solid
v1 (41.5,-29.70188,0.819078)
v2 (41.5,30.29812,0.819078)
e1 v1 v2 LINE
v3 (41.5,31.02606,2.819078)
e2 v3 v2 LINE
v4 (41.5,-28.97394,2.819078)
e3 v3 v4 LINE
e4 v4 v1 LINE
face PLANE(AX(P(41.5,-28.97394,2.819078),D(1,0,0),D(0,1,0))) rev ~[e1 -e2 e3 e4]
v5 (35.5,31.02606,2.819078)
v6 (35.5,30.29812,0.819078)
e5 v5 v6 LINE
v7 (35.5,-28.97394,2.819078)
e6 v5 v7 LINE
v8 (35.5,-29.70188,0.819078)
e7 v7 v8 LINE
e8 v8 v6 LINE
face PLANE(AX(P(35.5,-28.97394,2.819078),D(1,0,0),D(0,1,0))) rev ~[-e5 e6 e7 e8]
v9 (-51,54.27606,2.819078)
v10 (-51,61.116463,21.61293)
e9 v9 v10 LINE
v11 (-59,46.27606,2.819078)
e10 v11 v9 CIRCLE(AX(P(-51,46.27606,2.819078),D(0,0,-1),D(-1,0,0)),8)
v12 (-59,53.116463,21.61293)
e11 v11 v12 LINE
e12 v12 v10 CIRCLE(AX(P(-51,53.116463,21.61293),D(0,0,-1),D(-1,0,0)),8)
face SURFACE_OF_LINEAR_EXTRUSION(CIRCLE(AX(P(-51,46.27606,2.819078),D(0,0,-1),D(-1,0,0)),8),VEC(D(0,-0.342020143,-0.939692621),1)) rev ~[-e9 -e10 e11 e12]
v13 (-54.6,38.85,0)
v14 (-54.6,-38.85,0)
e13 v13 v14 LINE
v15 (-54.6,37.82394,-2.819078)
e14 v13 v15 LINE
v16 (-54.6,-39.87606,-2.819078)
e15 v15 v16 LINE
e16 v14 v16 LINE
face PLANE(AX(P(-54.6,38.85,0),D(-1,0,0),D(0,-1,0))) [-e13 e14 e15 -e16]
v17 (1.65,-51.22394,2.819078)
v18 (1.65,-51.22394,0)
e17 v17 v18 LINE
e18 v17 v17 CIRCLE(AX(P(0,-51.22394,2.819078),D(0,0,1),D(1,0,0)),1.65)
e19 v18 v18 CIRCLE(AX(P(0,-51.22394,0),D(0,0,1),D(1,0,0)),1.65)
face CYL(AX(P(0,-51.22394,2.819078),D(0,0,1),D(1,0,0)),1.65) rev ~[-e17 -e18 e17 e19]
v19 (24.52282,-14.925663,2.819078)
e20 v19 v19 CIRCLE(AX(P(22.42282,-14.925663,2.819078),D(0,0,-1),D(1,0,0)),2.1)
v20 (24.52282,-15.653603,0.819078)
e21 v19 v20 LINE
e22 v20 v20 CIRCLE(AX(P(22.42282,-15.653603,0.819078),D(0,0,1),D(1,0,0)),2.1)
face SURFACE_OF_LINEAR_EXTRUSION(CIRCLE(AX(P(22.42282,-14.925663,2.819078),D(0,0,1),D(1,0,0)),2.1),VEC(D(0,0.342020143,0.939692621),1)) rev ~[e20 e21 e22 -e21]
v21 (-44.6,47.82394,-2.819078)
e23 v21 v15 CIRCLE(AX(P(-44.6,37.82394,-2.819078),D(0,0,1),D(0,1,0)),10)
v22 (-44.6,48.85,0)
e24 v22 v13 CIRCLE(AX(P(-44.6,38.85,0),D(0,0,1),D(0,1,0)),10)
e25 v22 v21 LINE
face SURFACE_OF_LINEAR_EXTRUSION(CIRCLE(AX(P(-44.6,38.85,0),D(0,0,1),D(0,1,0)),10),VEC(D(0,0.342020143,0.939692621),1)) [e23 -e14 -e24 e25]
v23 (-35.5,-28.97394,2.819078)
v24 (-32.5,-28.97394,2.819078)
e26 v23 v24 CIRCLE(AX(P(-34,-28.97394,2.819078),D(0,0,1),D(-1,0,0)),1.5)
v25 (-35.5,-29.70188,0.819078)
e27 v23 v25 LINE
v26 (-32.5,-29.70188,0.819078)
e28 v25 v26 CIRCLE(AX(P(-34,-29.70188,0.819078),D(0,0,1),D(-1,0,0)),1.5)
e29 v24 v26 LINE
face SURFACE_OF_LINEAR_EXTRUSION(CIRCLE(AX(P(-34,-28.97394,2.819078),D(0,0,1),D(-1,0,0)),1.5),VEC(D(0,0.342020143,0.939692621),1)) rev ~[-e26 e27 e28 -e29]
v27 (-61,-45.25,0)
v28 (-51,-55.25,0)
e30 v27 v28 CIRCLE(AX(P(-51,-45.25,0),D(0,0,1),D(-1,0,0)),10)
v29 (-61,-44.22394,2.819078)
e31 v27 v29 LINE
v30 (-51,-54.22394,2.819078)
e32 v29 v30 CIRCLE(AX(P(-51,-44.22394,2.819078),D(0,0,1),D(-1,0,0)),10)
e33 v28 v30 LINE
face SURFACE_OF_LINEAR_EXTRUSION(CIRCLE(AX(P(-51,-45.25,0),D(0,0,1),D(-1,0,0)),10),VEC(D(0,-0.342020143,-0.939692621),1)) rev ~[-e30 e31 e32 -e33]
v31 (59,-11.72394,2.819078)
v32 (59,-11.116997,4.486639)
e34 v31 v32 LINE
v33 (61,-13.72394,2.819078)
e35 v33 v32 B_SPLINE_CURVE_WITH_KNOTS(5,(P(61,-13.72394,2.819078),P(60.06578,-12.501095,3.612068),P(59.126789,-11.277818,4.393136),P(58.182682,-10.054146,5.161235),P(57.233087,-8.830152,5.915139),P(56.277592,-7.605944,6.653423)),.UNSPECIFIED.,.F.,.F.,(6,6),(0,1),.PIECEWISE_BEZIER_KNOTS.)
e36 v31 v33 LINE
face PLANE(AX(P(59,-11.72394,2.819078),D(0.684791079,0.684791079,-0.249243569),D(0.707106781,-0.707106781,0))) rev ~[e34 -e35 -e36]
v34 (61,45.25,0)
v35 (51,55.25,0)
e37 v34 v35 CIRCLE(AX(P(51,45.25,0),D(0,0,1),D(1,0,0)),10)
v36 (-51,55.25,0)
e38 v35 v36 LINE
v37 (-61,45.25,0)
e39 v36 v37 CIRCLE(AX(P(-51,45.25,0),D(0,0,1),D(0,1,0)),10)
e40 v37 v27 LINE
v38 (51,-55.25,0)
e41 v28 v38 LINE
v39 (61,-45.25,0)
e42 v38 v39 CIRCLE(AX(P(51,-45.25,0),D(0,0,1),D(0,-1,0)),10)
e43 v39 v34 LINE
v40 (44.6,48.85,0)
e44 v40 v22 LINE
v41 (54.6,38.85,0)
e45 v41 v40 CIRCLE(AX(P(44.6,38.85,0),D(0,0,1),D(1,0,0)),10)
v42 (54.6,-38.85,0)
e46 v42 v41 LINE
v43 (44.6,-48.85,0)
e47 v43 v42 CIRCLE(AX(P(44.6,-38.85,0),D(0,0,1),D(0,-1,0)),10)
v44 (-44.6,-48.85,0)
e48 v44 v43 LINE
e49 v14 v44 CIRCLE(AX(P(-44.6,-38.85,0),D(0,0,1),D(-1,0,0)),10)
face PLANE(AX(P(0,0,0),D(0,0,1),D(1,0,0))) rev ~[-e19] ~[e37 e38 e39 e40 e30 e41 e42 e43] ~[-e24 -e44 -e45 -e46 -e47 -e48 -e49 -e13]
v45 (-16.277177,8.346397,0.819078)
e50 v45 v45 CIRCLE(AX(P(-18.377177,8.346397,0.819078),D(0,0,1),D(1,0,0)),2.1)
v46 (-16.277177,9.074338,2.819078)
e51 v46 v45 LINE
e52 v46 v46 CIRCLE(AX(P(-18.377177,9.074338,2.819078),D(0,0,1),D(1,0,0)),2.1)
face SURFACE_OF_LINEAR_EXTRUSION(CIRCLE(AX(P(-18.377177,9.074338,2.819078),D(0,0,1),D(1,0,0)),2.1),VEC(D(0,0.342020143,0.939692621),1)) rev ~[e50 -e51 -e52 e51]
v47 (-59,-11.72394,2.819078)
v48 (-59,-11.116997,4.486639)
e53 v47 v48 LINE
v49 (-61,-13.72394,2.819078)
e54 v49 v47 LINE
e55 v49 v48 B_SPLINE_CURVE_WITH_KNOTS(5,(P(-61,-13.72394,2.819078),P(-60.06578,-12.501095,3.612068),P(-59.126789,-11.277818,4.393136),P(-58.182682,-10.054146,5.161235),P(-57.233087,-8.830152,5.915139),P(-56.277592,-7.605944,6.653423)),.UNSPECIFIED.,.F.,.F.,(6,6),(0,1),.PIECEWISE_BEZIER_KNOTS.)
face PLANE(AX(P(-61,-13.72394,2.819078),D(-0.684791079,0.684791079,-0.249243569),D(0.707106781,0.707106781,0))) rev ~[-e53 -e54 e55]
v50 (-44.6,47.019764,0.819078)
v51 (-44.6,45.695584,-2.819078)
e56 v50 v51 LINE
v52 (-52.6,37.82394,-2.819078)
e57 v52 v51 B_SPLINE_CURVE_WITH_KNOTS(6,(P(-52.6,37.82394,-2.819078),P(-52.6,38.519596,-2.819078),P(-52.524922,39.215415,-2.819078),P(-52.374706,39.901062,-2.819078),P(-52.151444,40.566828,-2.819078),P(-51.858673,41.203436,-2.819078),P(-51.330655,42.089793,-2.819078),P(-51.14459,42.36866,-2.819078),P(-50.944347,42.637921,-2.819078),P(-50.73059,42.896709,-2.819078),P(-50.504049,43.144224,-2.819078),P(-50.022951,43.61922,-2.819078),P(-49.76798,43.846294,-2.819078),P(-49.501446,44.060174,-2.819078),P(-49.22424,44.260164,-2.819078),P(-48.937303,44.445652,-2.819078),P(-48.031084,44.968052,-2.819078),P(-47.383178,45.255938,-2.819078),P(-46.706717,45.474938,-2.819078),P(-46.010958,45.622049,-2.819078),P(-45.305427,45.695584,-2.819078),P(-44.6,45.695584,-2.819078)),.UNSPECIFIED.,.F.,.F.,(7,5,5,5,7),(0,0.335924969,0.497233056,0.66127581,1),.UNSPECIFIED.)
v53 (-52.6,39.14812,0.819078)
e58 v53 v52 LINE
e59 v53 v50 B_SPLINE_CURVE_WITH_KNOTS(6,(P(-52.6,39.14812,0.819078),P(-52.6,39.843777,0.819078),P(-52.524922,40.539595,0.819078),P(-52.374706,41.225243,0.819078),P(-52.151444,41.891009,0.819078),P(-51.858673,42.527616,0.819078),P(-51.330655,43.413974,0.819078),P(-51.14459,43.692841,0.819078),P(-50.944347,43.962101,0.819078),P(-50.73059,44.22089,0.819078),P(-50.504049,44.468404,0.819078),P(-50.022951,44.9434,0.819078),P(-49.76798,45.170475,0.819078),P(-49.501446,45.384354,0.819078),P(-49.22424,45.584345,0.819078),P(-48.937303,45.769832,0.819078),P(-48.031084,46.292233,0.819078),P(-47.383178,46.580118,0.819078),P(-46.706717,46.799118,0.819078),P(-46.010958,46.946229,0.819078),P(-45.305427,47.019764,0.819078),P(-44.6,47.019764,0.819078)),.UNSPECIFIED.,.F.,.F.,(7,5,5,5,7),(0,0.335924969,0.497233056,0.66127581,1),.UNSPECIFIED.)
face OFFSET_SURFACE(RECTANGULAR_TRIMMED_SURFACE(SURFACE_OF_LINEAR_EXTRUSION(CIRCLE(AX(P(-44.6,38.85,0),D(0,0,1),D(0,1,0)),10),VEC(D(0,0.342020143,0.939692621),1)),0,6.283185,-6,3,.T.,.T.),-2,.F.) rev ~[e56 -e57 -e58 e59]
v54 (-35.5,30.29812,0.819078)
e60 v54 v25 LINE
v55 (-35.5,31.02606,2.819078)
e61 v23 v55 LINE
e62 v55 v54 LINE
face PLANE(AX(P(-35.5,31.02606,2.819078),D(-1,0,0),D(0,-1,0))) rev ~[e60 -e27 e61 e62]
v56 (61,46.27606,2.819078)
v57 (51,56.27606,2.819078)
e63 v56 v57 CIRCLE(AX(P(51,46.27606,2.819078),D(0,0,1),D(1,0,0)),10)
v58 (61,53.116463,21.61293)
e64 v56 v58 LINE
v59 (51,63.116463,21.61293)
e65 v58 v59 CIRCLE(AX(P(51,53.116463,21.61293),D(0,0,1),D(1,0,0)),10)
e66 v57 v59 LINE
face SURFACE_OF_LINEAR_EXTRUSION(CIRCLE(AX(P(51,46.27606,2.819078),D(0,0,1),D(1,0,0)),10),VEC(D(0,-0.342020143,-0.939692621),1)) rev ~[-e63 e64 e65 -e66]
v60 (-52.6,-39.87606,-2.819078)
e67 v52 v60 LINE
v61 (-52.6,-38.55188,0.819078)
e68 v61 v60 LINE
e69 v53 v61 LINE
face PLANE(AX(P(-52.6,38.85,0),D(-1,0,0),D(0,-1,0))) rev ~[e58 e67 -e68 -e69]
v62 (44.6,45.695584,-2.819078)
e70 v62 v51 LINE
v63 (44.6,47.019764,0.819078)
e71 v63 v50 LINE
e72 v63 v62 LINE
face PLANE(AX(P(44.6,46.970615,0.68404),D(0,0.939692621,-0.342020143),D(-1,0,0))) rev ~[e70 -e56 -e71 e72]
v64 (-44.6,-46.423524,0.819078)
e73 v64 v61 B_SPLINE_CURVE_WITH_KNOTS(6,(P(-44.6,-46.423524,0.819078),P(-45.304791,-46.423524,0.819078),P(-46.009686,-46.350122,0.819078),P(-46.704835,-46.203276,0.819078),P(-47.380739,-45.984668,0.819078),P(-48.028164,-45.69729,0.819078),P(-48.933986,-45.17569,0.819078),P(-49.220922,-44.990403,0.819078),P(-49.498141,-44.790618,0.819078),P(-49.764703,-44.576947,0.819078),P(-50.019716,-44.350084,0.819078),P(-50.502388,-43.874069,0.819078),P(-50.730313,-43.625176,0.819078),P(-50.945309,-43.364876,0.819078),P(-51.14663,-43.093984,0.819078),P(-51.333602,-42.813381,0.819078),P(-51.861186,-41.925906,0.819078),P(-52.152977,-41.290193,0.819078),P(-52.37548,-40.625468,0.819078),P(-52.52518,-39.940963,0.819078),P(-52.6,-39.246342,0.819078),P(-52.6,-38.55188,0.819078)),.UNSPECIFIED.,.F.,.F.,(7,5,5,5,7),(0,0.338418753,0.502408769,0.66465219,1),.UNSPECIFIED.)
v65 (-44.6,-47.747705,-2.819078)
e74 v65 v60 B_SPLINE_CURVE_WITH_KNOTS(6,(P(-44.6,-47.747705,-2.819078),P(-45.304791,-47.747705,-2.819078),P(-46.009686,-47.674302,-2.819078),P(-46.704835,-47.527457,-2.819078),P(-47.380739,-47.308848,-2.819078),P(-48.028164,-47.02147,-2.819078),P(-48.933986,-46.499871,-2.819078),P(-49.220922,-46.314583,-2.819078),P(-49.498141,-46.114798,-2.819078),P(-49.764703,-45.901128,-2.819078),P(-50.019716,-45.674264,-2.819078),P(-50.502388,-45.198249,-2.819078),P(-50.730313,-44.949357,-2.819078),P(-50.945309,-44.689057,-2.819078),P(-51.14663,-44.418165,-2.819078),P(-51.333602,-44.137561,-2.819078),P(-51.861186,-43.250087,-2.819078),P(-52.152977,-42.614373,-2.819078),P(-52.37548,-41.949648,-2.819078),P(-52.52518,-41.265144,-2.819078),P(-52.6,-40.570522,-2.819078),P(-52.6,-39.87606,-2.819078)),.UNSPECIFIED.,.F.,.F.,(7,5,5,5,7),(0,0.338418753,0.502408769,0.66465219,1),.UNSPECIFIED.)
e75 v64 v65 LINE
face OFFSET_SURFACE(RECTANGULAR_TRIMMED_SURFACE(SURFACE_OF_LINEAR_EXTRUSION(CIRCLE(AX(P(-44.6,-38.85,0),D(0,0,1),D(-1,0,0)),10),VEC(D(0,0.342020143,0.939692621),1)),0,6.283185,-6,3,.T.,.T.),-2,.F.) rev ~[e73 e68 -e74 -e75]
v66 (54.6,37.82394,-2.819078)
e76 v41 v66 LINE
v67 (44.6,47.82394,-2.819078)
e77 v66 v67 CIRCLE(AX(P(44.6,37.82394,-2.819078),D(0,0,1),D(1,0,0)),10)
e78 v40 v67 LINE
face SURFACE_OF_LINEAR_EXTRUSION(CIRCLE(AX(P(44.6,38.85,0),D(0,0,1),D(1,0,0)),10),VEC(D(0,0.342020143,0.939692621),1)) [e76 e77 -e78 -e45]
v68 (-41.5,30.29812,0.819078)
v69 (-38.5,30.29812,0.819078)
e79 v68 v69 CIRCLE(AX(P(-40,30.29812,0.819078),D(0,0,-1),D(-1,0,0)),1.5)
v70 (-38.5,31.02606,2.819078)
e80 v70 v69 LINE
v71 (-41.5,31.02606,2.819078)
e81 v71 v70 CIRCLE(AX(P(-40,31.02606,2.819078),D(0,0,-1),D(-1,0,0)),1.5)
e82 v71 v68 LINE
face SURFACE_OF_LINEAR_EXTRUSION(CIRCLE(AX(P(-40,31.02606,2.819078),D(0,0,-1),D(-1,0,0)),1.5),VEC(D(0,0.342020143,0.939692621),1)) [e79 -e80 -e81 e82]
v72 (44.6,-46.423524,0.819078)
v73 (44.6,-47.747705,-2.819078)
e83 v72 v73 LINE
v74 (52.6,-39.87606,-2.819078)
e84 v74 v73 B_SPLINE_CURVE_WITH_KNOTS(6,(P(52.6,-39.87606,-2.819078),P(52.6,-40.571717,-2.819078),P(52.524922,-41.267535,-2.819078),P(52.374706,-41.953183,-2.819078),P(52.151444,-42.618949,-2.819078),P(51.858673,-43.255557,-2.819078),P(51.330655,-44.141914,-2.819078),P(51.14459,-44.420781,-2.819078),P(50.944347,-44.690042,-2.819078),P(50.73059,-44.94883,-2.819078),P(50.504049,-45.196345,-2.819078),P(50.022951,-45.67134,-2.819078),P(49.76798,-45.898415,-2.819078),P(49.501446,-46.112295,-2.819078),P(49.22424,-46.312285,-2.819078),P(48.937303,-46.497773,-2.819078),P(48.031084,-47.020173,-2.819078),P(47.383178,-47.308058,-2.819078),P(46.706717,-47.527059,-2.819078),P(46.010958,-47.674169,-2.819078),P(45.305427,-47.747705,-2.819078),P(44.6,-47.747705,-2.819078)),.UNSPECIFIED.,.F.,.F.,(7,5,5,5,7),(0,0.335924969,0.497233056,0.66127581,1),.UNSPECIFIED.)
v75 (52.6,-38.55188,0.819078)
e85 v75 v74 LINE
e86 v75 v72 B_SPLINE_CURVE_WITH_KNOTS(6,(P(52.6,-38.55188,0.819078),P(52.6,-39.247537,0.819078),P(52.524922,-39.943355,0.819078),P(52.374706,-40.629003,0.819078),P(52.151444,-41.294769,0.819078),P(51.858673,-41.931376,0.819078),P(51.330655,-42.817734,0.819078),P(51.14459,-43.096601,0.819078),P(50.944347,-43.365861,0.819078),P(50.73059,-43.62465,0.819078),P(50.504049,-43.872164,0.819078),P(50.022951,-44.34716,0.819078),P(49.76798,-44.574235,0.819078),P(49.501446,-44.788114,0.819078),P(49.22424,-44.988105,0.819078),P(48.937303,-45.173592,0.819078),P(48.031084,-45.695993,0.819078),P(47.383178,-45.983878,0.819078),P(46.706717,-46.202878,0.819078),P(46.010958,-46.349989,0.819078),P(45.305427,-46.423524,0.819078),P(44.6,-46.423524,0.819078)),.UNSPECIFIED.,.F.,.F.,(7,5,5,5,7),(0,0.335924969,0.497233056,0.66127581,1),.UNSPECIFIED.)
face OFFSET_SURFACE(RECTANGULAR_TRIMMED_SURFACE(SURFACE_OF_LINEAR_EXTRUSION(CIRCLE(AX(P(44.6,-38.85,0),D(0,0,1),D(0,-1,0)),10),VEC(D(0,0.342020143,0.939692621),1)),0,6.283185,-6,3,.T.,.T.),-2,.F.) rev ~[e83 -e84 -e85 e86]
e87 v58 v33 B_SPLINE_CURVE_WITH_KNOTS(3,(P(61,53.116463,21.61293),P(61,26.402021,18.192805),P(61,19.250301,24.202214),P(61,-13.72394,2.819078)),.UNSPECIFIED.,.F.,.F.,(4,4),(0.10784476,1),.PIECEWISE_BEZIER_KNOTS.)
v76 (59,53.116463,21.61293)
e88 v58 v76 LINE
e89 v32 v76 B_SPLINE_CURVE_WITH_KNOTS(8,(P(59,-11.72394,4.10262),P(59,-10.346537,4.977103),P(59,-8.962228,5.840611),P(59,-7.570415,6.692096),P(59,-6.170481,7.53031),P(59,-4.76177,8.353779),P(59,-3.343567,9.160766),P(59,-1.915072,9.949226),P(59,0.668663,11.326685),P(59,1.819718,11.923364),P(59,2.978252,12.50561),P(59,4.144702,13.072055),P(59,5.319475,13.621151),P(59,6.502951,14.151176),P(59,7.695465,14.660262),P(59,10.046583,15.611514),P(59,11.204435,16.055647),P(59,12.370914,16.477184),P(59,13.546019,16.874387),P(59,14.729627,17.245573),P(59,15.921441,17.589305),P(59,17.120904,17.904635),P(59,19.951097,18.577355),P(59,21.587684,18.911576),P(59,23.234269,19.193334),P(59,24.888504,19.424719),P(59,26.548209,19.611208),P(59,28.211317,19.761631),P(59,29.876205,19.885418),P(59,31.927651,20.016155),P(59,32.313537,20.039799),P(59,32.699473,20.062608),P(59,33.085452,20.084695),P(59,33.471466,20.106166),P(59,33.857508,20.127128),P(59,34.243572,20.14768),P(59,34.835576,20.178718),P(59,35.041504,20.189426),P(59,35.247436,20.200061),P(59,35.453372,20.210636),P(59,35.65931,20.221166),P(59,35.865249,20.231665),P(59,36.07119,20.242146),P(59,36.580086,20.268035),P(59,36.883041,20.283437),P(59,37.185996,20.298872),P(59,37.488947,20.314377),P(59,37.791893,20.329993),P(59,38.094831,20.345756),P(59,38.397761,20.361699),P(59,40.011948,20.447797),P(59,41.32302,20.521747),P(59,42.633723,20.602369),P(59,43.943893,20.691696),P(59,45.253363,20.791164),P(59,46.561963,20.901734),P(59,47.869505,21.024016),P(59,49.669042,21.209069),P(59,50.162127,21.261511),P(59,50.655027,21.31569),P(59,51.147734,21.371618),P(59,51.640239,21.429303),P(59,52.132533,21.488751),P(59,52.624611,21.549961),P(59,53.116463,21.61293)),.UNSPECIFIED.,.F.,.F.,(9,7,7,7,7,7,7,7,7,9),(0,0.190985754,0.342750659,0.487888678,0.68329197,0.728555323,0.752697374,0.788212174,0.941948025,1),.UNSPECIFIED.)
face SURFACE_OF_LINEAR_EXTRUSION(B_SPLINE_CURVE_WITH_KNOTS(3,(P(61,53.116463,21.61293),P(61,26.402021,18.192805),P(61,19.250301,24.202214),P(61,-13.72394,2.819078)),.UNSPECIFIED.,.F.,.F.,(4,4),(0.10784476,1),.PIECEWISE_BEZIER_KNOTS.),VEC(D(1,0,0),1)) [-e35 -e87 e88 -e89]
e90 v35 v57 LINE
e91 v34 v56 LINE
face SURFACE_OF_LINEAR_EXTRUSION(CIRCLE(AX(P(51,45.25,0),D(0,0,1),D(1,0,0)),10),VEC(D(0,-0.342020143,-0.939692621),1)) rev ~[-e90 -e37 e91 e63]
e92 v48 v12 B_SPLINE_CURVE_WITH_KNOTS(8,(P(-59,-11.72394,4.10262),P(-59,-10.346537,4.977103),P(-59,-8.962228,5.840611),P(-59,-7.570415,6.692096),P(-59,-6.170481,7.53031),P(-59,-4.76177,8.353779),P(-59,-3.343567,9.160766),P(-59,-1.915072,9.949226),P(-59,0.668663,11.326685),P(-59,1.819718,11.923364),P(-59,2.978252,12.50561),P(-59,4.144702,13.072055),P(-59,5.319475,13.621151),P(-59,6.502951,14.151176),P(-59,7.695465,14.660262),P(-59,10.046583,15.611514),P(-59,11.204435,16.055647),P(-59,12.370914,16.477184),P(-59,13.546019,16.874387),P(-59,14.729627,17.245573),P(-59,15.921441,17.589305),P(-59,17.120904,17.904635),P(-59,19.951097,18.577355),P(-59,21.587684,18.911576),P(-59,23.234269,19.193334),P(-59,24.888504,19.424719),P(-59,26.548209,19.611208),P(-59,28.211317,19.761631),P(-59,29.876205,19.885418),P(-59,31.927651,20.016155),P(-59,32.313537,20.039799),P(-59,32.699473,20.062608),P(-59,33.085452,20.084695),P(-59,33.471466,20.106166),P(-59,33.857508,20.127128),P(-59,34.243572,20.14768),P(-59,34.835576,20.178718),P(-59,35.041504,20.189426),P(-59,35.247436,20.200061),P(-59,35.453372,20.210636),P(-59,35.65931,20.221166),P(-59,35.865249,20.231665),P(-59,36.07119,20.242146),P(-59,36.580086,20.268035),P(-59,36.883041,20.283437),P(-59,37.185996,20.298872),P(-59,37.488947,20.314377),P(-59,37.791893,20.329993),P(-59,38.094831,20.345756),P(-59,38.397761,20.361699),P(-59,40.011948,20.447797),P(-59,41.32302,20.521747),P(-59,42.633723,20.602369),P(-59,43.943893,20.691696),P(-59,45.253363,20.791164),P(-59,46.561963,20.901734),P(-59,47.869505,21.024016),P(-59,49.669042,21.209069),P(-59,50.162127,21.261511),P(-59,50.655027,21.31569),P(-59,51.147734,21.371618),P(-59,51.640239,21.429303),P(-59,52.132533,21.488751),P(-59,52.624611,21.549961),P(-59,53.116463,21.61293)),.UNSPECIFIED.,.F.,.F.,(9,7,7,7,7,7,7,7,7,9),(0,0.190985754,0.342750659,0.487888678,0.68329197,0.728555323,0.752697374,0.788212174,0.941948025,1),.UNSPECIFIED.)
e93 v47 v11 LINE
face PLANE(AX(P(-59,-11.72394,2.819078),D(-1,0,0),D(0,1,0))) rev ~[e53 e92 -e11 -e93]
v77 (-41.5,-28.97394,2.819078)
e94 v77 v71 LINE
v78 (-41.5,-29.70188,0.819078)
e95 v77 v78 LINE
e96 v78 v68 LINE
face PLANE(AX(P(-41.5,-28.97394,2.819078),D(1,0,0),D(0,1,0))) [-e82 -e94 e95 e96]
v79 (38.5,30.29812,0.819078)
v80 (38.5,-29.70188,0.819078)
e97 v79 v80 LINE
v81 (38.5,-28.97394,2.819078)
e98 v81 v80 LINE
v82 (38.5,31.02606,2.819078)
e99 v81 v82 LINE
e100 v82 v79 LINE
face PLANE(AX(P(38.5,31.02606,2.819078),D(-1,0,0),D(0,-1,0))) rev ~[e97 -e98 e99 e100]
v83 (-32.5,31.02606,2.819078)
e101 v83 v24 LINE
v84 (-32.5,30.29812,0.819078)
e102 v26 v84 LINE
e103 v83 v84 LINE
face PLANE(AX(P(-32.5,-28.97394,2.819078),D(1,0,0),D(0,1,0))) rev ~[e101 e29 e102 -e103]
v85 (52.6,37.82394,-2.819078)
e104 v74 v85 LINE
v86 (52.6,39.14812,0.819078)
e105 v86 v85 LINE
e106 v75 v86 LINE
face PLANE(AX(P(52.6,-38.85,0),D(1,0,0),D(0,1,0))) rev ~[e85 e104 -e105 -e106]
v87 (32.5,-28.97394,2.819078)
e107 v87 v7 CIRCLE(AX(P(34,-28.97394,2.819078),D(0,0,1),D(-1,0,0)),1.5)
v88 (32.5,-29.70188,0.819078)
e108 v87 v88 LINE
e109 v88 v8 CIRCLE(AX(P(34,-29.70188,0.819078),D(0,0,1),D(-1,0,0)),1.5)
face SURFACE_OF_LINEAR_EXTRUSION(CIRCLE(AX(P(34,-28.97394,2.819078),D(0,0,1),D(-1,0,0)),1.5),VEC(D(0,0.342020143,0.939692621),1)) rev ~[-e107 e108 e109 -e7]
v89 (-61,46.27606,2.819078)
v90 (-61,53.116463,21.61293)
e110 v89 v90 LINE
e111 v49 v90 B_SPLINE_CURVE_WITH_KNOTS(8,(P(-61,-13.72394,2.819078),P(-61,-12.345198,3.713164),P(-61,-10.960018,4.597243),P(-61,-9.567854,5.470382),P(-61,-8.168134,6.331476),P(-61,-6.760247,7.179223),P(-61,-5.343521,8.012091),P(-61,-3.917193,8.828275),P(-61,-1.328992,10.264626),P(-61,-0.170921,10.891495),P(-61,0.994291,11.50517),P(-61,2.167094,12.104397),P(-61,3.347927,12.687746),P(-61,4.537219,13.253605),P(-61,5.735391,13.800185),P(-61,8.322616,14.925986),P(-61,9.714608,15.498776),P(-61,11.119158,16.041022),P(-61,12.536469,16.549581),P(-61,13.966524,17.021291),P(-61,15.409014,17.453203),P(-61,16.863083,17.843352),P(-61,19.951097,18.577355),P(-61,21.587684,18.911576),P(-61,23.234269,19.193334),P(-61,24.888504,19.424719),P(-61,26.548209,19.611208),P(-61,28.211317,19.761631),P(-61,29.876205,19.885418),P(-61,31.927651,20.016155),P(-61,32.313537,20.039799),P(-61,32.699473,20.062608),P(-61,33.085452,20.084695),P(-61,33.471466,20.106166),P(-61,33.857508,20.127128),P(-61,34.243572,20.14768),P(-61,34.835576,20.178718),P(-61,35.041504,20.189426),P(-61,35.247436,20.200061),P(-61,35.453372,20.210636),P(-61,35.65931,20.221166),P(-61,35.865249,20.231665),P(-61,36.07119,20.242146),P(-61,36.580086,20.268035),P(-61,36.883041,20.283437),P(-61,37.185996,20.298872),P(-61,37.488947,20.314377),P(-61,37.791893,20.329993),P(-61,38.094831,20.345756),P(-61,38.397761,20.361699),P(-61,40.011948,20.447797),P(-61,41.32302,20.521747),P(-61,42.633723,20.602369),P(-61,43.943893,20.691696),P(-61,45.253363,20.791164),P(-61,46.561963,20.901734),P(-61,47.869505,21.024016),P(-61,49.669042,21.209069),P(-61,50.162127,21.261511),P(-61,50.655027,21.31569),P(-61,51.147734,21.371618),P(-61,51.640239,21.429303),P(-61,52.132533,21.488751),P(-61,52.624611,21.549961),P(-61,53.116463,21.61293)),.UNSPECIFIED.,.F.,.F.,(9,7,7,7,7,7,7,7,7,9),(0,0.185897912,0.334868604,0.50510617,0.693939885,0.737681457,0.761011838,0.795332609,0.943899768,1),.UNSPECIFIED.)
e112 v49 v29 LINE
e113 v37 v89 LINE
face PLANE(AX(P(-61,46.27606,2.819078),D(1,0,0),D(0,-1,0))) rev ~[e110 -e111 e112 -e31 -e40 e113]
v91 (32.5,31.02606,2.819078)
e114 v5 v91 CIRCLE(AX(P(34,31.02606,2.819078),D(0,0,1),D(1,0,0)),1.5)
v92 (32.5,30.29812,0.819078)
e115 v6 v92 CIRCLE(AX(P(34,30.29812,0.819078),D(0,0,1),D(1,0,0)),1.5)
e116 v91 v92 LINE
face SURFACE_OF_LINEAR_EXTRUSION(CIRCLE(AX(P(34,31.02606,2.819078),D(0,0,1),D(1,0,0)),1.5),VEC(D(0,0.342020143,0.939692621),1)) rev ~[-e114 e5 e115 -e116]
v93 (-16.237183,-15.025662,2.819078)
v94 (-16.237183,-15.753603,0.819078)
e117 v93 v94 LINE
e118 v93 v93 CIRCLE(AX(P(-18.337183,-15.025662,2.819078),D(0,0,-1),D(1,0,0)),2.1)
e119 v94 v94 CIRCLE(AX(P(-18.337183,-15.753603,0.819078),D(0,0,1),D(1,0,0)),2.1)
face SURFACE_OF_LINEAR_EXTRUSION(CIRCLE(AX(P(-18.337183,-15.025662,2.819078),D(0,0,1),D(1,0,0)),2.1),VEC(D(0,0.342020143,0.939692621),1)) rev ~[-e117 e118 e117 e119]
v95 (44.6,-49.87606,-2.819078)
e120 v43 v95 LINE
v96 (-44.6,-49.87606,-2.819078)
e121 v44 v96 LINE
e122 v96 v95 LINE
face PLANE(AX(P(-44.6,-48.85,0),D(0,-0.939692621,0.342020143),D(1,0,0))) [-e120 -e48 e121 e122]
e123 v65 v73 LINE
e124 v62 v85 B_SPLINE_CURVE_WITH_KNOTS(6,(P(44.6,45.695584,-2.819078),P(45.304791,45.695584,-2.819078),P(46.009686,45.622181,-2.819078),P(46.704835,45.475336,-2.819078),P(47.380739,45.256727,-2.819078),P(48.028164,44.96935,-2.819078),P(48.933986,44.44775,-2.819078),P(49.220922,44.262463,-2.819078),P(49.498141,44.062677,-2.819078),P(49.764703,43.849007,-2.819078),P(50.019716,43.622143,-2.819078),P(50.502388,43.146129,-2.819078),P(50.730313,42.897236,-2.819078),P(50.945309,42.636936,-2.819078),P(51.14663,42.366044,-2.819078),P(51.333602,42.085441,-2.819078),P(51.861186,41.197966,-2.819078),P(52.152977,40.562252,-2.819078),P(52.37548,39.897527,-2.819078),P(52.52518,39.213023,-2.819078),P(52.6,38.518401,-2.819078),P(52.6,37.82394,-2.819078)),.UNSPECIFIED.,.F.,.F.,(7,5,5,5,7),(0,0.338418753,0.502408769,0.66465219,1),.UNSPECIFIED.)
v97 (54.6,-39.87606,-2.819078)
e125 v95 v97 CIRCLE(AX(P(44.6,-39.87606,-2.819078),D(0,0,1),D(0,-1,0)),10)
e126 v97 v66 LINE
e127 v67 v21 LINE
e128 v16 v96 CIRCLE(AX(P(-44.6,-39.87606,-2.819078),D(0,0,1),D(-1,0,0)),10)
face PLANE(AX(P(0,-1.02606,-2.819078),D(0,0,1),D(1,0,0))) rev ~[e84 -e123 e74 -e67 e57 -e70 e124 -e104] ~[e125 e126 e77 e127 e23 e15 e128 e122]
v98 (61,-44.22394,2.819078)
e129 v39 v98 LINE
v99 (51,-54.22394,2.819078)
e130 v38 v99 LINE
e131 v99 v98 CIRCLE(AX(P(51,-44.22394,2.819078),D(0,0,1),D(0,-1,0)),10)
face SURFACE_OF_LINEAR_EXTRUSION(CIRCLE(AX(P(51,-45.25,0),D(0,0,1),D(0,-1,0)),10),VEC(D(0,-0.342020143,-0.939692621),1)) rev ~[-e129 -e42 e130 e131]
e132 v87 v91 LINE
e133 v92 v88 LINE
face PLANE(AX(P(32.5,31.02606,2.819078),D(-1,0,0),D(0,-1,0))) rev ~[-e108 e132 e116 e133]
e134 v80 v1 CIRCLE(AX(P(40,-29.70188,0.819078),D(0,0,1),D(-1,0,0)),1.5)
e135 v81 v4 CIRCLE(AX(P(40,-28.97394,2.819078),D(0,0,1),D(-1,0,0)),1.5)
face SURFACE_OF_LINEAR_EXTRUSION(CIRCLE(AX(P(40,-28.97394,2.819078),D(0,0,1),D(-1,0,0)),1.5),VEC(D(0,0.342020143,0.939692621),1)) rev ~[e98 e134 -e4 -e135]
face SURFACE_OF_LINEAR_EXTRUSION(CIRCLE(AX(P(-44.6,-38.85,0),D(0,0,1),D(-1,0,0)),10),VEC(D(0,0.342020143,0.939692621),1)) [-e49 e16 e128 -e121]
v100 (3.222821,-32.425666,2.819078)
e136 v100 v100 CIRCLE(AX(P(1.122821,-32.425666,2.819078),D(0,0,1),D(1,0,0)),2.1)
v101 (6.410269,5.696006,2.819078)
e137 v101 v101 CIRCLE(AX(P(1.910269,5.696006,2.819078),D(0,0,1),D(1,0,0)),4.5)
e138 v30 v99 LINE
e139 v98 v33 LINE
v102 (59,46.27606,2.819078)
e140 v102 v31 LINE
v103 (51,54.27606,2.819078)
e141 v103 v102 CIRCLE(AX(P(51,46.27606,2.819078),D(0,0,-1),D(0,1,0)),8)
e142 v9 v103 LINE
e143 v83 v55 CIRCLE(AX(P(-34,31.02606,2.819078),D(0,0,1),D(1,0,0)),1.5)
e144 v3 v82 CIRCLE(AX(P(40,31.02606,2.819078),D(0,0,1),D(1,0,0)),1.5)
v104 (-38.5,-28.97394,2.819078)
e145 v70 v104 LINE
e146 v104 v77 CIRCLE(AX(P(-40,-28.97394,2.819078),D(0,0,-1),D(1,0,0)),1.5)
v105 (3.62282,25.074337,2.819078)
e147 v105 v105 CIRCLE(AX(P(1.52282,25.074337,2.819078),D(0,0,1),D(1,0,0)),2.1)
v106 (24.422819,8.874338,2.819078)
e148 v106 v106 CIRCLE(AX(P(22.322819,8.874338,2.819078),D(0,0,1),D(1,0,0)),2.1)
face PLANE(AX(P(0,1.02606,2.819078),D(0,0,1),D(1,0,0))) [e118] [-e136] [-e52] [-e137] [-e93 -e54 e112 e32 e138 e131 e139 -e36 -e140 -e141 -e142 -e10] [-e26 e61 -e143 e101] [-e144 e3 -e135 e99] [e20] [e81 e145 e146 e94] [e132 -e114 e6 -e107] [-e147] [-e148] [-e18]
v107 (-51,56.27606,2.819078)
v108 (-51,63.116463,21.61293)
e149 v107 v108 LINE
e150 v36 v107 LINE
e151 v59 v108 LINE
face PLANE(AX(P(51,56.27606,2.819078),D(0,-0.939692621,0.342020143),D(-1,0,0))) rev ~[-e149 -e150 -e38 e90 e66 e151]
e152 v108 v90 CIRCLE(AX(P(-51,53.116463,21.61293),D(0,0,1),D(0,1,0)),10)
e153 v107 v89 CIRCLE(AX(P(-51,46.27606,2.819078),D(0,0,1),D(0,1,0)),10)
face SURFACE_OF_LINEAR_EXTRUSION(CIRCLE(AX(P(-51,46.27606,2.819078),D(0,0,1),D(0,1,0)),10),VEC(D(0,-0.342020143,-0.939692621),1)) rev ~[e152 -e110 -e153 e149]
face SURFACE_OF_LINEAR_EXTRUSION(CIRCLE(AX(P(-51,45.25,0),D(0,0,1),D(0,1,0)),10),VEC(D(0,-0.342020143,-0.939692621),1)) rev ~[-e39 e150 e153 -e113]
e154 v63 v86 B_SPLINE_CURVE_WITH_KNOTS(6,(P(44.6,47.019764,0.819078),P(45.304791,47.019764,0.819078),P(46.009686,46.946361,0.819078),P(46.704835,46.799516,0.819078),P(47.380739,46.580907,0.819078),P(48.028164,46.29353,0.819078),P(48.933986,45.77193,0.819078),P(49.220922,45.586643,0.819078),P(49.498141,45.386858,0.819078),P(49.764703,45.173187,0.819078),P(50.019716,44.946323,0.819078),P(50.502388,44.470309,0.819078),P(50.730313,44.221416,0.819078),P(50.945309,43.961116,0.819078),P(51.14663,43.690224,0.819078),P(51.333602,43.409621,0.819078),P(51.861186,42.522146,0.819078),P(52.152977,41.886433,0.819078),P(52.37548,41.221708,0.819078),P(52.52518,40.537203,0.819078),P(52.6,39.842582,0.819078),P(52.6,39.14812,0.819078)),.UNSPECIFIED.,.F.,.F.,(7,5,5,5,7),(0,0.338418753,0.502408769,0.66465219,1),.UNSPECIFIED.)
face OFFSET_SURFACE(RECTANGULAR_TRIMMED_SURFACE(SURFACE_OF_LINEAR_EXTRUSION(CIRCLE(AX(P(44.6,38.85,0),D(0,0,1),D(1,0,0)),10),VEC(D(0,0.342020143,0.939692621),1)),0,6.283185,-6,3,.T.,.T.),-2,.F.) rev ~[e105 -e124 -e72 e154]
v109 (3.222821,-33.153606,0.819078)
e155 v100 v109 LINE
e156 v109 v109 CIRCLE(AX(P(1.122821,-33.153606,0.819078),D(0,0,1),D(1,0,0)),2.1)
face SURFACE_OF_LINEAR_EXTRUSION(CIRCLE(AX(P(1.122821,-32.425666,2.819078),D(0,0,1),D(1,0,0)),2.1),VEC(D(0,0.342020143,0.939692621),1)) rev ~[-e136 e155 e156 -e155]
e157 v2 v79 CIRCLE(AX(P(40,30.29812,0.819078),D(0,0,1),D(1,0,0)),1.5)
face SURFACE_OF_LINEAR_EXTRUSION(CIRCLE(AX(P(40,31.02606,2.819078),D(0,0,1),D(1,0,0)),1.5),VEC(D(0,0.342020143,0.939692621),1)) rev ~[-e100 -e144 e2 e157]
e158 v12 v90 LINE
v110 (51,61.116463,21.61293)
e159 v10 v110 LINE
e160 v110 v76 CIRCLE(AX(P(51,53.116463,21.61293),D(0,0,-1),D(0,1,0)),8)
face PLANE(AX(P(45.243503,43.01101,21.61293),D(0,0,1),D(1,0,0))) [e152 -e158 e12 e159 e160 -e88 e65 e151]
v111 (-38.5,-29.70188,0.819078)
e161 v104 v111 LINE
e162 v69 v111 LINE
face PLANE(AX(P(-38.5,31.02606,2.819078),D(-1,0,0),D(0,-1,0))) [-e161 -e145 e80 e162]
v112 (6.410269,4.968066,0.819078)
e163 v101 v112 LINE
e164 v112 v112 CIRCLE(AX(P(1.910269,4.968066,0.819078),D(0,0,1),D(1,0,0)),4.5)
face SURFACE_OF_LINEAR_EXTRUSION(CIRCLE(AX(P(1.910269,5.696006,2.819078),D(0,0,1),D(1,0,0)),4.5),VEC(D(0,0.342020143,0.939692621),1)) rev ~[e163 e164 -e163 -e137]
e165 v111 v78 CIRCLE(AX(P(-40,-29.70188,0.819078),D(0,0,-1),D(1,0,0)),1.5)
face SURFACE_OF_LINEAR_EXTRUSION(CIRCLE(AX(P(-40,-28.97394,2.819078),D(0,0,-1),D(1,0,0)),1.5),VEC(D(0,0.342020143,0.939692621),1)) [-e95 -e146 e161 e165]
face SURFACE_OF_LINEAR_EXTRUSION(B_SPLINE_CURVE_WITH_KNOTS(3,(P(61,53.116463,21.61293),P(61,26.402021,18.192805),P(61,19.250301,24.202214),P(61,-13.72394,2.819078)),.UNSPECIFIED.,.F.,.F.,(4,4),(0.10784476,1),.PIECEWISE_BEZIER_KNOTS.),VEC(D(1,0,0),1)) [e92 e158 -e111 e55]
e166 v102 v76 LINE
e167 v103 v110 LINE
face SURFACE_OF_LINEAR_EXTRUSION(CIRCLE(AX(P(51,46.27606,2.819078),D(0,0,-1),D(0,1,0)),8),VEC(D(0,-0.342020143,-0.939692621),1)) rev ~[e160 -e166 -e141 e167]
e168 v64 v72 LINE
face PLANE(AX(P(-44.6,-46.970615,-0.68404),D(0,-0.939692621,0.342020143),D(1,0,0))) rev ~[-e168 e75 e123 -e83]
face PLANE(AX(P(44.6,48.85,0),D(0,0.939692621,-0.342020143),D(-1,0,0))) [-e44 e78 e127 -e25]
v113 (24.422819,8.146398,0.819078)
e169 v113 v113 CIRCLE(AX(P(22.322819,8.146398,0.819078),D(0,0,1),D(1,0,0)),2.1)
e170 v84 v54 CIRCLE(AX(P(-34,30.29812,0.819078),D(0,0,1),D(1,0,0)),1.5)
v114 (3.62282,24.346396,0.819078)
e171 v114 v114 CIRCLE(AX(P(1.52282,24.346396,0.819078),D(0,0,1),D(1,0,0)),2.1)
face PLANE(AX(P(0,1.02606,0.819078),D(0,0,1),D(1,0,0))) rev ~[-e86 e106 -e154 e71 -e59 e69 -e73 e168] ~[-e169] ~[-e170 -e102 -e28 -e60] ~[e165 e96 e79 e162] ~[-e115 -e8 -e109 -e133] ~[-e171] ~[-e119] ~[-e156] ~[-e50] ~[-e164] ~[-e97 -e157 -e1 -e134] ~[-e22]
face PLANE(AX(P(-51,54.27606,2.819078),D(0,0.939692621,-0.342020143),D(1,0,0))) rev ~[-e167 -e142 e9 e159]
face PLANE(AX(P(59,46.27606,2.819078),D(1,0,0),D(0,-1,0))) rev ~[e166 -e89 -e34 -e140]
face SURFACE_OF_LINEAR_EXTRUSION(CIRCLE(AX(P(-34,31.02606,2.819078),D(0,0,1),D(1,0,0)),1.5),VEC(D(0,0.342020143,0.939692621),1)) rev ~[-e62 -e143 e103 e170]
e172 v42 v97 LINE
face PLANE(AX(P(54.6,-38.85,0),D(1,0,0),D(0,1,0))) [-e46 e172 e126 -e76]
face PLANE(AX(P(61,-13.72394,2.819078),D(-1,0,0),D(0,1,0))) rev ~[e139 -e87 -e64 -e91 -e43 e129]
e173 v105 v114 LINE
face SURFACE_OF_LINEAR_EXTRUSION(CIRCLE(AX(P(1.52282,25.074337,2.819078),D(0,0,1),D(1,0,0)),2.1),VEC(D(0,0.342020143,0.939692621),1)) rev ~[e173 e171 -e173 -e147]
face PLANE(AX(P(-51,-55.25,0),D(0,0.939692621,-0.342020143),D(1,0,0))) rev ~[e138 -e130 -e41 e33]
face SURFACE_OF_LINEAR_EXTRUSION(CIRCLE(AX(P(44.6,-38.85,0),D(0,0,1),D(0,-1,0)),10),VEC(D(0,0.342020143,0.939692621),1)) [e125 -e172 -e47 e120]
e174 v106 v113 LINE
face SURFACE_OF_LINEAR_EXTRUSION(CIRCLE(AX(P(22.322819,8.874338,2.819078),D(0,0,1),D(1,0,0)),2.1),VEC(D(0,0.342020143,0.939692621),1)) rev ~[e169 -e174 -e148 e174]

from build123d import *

# Parameters (mm, degrees)
SALIENTE_EXTRUIR1_DEPTH    = 3
SALIENTE_EXTRUIR2_DEPTH    = 3
VACIADO1_T                 = -2
CROQUIS2_R                 = 2.1
CROQUIS2_R_2               = 4.5
AGUJEROS_FRONTALES_DEPTH   = 2.128355545
SALIENTE_EXTRUIR3_DEPTH    = 20
CORTAR_EXTRUIR2_DEPTH      = 140.049655499
CORTAR_EXTRUIR2_DEPTH_BACK = 140.049655499
CORTAR_EXTRUIR3_REACH      = 91.766
CROQUIS6_R                 = 1.65


with BuildPart() as part:
    # Croquis1 → Saliente-Extruir1 (new, along a direction that is not the sketch's normal)
    with BuildSketch(Plane.XY):
        with BuildLine():
            Line((51, 55.25), (-51, 55.25))
            ThreePointArc((-51, 55.25), (-58.071067812, 52.321067812), (-61, 45.25))
            Line((-61, 45.25), (-61, 38.85))
            Line((-61, 38.85), (-61, -45.25))
            ThreePointArc((-61, -45.25), (-58.071067812, -52.321067812), (-51, -55.25))
            Line((-51, -55.25), (51, -55.25))
            ThreePointArc((51, -55.25), (58.071067812, -52.321067812), (61, -45.25))
            Line((61, -45.25), (61, 38.85))
            Line((61, 38.85), (61, 45.25))
            ThreePointArc((61, 45.25), (58.071067812, 52.321067812), (51, 55.25))
        make_face()
        with BuildLine():
            ThreePointArc((-54.6, -38.85), (-51.671067812, -45.921067812), (-44.6, -48.85))
            Line((-44.6, -48.85), (44.6, -48.85))
            ThreePointArc((44.6, -48.85), (51.671067812, -45.921067812), (54.6, -38.85))
            Line((54.6, -38.85), (54.6, 33.85))
            Line((54.6, 33.85), (54.6, 38.85))
            ThreePointArc((54.6, 38.85), (51.671067812, 45.921067812), (44.6, 48.85))
            Line((44.6, 48.85), (-44.6, 48.85))
            ThreePointArc((-44.6, 48.85), (-51.671067812, 45.921067812), (-54.6, 38.85))
            Line((-54.6, 38.85), (-54.6, 33.85))
            Line((-54.6, 33.85), (-54.6, -38.85))
        make_face(mode=Mode.SUBTRACT)
        with BuildLine():
            Line((-54.6, 33.85), (-54.6, -38.85))
            ThreePointArc((-54.6, -38.85), (-51.671067812, -45.921067812), (-44.6, -48.85))
            Line((-44.6, -48.85), (44.6, -48.85))
            ThreePointArc((44.6, -48.85), (51.671067812, -45.921067812), (54.6, -38.85))
            Line((54.6, -38.85), (54.6, 33.85))
            Line((54.6, 33.85), (54.6, 38.85))
            ThreePointArc((54.6, 38.85), (51.671067812, 45.921067812), (44.6, 48.85))
            Line((44.6, 48.85), (-44.6, 48.85))
            ThreePointArc((-44.6, 48.85), (-51.671067812, 45.921067812), (-54.6, 38.85))
            Line((-54.6, 38.85), (-54.6, 33.85))
        make_face()
    extrude(amount=SALIENTE_EXTRUIR1_DEPTH, dir=(0, 0.34202014332566943, 0.9396926207859081))

    # Croquis1<3> → Saliente-Extruir2 (add, along a direction that is not the sketch's normal)
    with BuildSketch(Plane.XY):
        with BuildLine():
            Line((-54.6, 33.85), (-54.6, -38.85))
            ThreePointArc((-54.6, -38.85), (-51.671067812, -45.921067812), (-44.6, -48.85))
            Line((-44.6, -48.85), (44.6, -48.85))
            ThreePointArc((44.6, -48.85), (51.671067812, -45.921067812), (54.6, -38.85))
            Line((54.6, -38.85), (54.6, 33.85))
            Line((54.6, 33.85), (54.6, 38.85))
            ThreePointArc((54.6, 38.85), (51.671067812, 45.921067812), (44.6, 48.85))
            Line((44.6, 48.85), (-44.6, 48.85))
            ThreePointArc((-44.6, 48.85), (-51.671067812, 45.921067812), (-54.6, 38.85))
            Line((-54.6, 38.85), (-54.6, 33.85))
        make_face()
    extrude(amount=-SALIENTE_EXTRUIR2_DEPTH, dir=(0, 0.34202014332566943, 0.9396926207859081))

    # Vaciado1
    vaciado1_openings = [part.faces().sort_by_distance(p)[0] for p in [
        (0, -1.02606043, -2.819077862),
    ]]
    offset(amount=VACIADO1_T, openings=vaciado1_openings, kind=Kind.INTERSECTION)

    # Croquis2 → agujeros_frontales (cut, along a direction that is not the sketch's normal)
    with BuildSketch(Plane.XY.offset(2.819077862)):
        with Locations((1.522820459, 25.074336596)):
            Circle(CROQUIS2_R)
        with Locations((22.322818653, 8.874338039)):
            Circle(CROQUIS2_R)
        with Locations((22.422820346, -14.925662509)):
            Circle(CROQUIS2_R)
        with Locations((1.122821138, -32.425665611)):
            Circle(CROQUIS2_R)
        with Locations((-18.337182685, -15.02566234)):
            Circle(CROQUIS2_R)
        with Locations((-18.377177401, 9.074337699)):
            Circle(CROQUIS2_R)
        with Locations((1.910269276, 5.696006038)):
            Circle(CROQUIS2_R_2)
        with BuildLine():
            Line((-41.5, -28.97393957), (-41.5, 31.02606043))
            ThreePointArc((-41.5, 31.02606043), (-40, 32.52606043), (-38.5, 31.02606043))
            Line((-38.5, 31.02606043), (-38.5, -28.97393957))
            ThreePointArc((-38.5, -28.97393957), (-40, -30.47393957), (-41.5, -28.97393957))
        make_face()
        with BuildLine():
            Line((-32.5, -28.97393957), (-32.5, 31.02606043))
            ThreePointArc((-32.5, 31.02606043), (-34, 32.52606043), (-35.5, 31.02606043))
            Line((-35.5, 31.02606043), (-35.5, -28.97393957))
            ThreePointArc((-35.5, -28.97393957), (-34, -30.47393957), (-32.5, -28.97393957))
        make_face()
        with BuildLine():
            Line((41.5, -28.97393957), (41.5, 31.02606043))
            ThreePointArc((41.5, 31.02606043), (40, 32.52606043), (38.5, 31.02606043))
            Line((38.5, 31.02606043), (38.5, -28.97393957))
            ThreePointArc((38.5, -28.97393957), (40, -30.47393957), (41.5, -28.97393957))
        make_face()
        with BuildLine():
            Line((35.5, -28.97393957), (35.5, 31.02606043))
            ThreePointArc((35.5, 31.02606043), (34, 32.52606043), (32.5, 31.02606043))
            Line((32.5, 31.02606043), (32.5, -28.97393957))
            ThreePointArc((32.5, -28.97393957), (34, -30.47393957), (35.5, -28.97393957))
        make_face()
    extrude(amount=-AGUJEROS_FRONTALES_DEPTH, dir=(0, 0.34202014332566943, 0.9396926207859081), mode=Mode.SUBTRACT)

    # Croquis4 → Saliente-Extruir3 (add, along a direction that is not the sketch's normal)
    with BuildSketch(Plane.XY.offset(2.819077862)):
        with BuildLine():
            ThreePointArc((61, 46.27606043), (58.071067812, 53.347128242), (51, 56.27606043))
            Line((51, 56.27606043), (0, 56.27606043))
            Line((0, 56.27606043), (0, 54.27606043))
            Line((0, 54.27606043), (51, 54.27606043))
            ThreePointArc((51, 54.27606043), (56.656854249, 51.932914679), (59, 46.27606043))
            Line((59, 46.27606043), (59, -11.72393957))
            Line((59, -11.72393957), (61, -13.72393957))
            Line((61, -13.72393957), (61, 46.27606043))
        make_face()
        with BuildLine():
            Line((0, 54.27606043), (0, 56.27606043))
            Line((0, 56.27606043), (-51, 56.27606043))
            ThreePointArc((-51, 56.27606043), (-58.071067812, 53.347128242), (-61, 46.27606043))
            Line((-61, 46.27606043), (-61, -11.72393957))
            Line((-61, -11.72393957), (-61, -13.72393957))
            Line((-61, -13.72393957), (-59, -11.72393957))
            Line((-59, -11.72393957), (-59, 46.27606043))
            ThreePointArc((-59, 46.27606043), (-56.656854249, 51.932914679), (-51, 54.27606043))
            Line((-51, 54.27606043), (0, 54.27606043))
        make_face()
    extrude(amount=SALIENTE_EXTRUIR3_DEPTH, dir=(0, 0.3420201433256695, 0.9396926207859082))

    # Croquis5 → Cortar-Extruir2 (cut, two sides)
    with BuildSketch(Plane(origin=(61, 0, 0), x_dir=(0, 0, -1), z_dir=(1, 0, 0))) as cortar_extruir2_sk:
        with BuildLine():
            Line((-21.612930278, 53.116463296), (-21.612930278, -13.72393957))
            Line((-21.612930278, -13.72393957), (-2.819077862, -13.72393957))
            add(Edge.make_bspline(
                [(-21.612930278, 53.116463296), (-18.192805265, 26.402020841), (-24.202213901, 19.250300864), (-2.819077862, -13.72393957)],
                knots=[0.10784476, 0.10784476, 0.10784476, 0.10784476, 1, 1, 1, 1], degree=3))
        make_face()
    extrude(amount=CORTAR_EXTRUIR2_DEPTH, mode=Mode.SUBTRACT)
    extrude(cortar_extruir2_sk.sketch, amount=-CORTAR_EXTRUIR2_DEPTH_BACK, mode=Mode.SUBTRACT)

    # Croquis6 → Cortar-Extruir3 (cut, up to next)
    with BuildSketch(Plane.XY.offset(2.819077862), mode=Mode.PRIVATE) as cortar_extruir3_sk1:
        with Locations((0, -51.22393957)):
            Circle(CROQUIS6_R)
    cortar_extruir3_tool1 = extrude(cortar_extruir3_sk1.sketch, amount=-CORTAR_EXTRUIR3_REACH, mode=Mode.PRIVATE) & part.part
    add(cortar_extruir3_tool1.solids().sort_by_distance((0, -51.22394, 2.819078))[0], mode=Mode.SUBTRACT)


solid = part.part
